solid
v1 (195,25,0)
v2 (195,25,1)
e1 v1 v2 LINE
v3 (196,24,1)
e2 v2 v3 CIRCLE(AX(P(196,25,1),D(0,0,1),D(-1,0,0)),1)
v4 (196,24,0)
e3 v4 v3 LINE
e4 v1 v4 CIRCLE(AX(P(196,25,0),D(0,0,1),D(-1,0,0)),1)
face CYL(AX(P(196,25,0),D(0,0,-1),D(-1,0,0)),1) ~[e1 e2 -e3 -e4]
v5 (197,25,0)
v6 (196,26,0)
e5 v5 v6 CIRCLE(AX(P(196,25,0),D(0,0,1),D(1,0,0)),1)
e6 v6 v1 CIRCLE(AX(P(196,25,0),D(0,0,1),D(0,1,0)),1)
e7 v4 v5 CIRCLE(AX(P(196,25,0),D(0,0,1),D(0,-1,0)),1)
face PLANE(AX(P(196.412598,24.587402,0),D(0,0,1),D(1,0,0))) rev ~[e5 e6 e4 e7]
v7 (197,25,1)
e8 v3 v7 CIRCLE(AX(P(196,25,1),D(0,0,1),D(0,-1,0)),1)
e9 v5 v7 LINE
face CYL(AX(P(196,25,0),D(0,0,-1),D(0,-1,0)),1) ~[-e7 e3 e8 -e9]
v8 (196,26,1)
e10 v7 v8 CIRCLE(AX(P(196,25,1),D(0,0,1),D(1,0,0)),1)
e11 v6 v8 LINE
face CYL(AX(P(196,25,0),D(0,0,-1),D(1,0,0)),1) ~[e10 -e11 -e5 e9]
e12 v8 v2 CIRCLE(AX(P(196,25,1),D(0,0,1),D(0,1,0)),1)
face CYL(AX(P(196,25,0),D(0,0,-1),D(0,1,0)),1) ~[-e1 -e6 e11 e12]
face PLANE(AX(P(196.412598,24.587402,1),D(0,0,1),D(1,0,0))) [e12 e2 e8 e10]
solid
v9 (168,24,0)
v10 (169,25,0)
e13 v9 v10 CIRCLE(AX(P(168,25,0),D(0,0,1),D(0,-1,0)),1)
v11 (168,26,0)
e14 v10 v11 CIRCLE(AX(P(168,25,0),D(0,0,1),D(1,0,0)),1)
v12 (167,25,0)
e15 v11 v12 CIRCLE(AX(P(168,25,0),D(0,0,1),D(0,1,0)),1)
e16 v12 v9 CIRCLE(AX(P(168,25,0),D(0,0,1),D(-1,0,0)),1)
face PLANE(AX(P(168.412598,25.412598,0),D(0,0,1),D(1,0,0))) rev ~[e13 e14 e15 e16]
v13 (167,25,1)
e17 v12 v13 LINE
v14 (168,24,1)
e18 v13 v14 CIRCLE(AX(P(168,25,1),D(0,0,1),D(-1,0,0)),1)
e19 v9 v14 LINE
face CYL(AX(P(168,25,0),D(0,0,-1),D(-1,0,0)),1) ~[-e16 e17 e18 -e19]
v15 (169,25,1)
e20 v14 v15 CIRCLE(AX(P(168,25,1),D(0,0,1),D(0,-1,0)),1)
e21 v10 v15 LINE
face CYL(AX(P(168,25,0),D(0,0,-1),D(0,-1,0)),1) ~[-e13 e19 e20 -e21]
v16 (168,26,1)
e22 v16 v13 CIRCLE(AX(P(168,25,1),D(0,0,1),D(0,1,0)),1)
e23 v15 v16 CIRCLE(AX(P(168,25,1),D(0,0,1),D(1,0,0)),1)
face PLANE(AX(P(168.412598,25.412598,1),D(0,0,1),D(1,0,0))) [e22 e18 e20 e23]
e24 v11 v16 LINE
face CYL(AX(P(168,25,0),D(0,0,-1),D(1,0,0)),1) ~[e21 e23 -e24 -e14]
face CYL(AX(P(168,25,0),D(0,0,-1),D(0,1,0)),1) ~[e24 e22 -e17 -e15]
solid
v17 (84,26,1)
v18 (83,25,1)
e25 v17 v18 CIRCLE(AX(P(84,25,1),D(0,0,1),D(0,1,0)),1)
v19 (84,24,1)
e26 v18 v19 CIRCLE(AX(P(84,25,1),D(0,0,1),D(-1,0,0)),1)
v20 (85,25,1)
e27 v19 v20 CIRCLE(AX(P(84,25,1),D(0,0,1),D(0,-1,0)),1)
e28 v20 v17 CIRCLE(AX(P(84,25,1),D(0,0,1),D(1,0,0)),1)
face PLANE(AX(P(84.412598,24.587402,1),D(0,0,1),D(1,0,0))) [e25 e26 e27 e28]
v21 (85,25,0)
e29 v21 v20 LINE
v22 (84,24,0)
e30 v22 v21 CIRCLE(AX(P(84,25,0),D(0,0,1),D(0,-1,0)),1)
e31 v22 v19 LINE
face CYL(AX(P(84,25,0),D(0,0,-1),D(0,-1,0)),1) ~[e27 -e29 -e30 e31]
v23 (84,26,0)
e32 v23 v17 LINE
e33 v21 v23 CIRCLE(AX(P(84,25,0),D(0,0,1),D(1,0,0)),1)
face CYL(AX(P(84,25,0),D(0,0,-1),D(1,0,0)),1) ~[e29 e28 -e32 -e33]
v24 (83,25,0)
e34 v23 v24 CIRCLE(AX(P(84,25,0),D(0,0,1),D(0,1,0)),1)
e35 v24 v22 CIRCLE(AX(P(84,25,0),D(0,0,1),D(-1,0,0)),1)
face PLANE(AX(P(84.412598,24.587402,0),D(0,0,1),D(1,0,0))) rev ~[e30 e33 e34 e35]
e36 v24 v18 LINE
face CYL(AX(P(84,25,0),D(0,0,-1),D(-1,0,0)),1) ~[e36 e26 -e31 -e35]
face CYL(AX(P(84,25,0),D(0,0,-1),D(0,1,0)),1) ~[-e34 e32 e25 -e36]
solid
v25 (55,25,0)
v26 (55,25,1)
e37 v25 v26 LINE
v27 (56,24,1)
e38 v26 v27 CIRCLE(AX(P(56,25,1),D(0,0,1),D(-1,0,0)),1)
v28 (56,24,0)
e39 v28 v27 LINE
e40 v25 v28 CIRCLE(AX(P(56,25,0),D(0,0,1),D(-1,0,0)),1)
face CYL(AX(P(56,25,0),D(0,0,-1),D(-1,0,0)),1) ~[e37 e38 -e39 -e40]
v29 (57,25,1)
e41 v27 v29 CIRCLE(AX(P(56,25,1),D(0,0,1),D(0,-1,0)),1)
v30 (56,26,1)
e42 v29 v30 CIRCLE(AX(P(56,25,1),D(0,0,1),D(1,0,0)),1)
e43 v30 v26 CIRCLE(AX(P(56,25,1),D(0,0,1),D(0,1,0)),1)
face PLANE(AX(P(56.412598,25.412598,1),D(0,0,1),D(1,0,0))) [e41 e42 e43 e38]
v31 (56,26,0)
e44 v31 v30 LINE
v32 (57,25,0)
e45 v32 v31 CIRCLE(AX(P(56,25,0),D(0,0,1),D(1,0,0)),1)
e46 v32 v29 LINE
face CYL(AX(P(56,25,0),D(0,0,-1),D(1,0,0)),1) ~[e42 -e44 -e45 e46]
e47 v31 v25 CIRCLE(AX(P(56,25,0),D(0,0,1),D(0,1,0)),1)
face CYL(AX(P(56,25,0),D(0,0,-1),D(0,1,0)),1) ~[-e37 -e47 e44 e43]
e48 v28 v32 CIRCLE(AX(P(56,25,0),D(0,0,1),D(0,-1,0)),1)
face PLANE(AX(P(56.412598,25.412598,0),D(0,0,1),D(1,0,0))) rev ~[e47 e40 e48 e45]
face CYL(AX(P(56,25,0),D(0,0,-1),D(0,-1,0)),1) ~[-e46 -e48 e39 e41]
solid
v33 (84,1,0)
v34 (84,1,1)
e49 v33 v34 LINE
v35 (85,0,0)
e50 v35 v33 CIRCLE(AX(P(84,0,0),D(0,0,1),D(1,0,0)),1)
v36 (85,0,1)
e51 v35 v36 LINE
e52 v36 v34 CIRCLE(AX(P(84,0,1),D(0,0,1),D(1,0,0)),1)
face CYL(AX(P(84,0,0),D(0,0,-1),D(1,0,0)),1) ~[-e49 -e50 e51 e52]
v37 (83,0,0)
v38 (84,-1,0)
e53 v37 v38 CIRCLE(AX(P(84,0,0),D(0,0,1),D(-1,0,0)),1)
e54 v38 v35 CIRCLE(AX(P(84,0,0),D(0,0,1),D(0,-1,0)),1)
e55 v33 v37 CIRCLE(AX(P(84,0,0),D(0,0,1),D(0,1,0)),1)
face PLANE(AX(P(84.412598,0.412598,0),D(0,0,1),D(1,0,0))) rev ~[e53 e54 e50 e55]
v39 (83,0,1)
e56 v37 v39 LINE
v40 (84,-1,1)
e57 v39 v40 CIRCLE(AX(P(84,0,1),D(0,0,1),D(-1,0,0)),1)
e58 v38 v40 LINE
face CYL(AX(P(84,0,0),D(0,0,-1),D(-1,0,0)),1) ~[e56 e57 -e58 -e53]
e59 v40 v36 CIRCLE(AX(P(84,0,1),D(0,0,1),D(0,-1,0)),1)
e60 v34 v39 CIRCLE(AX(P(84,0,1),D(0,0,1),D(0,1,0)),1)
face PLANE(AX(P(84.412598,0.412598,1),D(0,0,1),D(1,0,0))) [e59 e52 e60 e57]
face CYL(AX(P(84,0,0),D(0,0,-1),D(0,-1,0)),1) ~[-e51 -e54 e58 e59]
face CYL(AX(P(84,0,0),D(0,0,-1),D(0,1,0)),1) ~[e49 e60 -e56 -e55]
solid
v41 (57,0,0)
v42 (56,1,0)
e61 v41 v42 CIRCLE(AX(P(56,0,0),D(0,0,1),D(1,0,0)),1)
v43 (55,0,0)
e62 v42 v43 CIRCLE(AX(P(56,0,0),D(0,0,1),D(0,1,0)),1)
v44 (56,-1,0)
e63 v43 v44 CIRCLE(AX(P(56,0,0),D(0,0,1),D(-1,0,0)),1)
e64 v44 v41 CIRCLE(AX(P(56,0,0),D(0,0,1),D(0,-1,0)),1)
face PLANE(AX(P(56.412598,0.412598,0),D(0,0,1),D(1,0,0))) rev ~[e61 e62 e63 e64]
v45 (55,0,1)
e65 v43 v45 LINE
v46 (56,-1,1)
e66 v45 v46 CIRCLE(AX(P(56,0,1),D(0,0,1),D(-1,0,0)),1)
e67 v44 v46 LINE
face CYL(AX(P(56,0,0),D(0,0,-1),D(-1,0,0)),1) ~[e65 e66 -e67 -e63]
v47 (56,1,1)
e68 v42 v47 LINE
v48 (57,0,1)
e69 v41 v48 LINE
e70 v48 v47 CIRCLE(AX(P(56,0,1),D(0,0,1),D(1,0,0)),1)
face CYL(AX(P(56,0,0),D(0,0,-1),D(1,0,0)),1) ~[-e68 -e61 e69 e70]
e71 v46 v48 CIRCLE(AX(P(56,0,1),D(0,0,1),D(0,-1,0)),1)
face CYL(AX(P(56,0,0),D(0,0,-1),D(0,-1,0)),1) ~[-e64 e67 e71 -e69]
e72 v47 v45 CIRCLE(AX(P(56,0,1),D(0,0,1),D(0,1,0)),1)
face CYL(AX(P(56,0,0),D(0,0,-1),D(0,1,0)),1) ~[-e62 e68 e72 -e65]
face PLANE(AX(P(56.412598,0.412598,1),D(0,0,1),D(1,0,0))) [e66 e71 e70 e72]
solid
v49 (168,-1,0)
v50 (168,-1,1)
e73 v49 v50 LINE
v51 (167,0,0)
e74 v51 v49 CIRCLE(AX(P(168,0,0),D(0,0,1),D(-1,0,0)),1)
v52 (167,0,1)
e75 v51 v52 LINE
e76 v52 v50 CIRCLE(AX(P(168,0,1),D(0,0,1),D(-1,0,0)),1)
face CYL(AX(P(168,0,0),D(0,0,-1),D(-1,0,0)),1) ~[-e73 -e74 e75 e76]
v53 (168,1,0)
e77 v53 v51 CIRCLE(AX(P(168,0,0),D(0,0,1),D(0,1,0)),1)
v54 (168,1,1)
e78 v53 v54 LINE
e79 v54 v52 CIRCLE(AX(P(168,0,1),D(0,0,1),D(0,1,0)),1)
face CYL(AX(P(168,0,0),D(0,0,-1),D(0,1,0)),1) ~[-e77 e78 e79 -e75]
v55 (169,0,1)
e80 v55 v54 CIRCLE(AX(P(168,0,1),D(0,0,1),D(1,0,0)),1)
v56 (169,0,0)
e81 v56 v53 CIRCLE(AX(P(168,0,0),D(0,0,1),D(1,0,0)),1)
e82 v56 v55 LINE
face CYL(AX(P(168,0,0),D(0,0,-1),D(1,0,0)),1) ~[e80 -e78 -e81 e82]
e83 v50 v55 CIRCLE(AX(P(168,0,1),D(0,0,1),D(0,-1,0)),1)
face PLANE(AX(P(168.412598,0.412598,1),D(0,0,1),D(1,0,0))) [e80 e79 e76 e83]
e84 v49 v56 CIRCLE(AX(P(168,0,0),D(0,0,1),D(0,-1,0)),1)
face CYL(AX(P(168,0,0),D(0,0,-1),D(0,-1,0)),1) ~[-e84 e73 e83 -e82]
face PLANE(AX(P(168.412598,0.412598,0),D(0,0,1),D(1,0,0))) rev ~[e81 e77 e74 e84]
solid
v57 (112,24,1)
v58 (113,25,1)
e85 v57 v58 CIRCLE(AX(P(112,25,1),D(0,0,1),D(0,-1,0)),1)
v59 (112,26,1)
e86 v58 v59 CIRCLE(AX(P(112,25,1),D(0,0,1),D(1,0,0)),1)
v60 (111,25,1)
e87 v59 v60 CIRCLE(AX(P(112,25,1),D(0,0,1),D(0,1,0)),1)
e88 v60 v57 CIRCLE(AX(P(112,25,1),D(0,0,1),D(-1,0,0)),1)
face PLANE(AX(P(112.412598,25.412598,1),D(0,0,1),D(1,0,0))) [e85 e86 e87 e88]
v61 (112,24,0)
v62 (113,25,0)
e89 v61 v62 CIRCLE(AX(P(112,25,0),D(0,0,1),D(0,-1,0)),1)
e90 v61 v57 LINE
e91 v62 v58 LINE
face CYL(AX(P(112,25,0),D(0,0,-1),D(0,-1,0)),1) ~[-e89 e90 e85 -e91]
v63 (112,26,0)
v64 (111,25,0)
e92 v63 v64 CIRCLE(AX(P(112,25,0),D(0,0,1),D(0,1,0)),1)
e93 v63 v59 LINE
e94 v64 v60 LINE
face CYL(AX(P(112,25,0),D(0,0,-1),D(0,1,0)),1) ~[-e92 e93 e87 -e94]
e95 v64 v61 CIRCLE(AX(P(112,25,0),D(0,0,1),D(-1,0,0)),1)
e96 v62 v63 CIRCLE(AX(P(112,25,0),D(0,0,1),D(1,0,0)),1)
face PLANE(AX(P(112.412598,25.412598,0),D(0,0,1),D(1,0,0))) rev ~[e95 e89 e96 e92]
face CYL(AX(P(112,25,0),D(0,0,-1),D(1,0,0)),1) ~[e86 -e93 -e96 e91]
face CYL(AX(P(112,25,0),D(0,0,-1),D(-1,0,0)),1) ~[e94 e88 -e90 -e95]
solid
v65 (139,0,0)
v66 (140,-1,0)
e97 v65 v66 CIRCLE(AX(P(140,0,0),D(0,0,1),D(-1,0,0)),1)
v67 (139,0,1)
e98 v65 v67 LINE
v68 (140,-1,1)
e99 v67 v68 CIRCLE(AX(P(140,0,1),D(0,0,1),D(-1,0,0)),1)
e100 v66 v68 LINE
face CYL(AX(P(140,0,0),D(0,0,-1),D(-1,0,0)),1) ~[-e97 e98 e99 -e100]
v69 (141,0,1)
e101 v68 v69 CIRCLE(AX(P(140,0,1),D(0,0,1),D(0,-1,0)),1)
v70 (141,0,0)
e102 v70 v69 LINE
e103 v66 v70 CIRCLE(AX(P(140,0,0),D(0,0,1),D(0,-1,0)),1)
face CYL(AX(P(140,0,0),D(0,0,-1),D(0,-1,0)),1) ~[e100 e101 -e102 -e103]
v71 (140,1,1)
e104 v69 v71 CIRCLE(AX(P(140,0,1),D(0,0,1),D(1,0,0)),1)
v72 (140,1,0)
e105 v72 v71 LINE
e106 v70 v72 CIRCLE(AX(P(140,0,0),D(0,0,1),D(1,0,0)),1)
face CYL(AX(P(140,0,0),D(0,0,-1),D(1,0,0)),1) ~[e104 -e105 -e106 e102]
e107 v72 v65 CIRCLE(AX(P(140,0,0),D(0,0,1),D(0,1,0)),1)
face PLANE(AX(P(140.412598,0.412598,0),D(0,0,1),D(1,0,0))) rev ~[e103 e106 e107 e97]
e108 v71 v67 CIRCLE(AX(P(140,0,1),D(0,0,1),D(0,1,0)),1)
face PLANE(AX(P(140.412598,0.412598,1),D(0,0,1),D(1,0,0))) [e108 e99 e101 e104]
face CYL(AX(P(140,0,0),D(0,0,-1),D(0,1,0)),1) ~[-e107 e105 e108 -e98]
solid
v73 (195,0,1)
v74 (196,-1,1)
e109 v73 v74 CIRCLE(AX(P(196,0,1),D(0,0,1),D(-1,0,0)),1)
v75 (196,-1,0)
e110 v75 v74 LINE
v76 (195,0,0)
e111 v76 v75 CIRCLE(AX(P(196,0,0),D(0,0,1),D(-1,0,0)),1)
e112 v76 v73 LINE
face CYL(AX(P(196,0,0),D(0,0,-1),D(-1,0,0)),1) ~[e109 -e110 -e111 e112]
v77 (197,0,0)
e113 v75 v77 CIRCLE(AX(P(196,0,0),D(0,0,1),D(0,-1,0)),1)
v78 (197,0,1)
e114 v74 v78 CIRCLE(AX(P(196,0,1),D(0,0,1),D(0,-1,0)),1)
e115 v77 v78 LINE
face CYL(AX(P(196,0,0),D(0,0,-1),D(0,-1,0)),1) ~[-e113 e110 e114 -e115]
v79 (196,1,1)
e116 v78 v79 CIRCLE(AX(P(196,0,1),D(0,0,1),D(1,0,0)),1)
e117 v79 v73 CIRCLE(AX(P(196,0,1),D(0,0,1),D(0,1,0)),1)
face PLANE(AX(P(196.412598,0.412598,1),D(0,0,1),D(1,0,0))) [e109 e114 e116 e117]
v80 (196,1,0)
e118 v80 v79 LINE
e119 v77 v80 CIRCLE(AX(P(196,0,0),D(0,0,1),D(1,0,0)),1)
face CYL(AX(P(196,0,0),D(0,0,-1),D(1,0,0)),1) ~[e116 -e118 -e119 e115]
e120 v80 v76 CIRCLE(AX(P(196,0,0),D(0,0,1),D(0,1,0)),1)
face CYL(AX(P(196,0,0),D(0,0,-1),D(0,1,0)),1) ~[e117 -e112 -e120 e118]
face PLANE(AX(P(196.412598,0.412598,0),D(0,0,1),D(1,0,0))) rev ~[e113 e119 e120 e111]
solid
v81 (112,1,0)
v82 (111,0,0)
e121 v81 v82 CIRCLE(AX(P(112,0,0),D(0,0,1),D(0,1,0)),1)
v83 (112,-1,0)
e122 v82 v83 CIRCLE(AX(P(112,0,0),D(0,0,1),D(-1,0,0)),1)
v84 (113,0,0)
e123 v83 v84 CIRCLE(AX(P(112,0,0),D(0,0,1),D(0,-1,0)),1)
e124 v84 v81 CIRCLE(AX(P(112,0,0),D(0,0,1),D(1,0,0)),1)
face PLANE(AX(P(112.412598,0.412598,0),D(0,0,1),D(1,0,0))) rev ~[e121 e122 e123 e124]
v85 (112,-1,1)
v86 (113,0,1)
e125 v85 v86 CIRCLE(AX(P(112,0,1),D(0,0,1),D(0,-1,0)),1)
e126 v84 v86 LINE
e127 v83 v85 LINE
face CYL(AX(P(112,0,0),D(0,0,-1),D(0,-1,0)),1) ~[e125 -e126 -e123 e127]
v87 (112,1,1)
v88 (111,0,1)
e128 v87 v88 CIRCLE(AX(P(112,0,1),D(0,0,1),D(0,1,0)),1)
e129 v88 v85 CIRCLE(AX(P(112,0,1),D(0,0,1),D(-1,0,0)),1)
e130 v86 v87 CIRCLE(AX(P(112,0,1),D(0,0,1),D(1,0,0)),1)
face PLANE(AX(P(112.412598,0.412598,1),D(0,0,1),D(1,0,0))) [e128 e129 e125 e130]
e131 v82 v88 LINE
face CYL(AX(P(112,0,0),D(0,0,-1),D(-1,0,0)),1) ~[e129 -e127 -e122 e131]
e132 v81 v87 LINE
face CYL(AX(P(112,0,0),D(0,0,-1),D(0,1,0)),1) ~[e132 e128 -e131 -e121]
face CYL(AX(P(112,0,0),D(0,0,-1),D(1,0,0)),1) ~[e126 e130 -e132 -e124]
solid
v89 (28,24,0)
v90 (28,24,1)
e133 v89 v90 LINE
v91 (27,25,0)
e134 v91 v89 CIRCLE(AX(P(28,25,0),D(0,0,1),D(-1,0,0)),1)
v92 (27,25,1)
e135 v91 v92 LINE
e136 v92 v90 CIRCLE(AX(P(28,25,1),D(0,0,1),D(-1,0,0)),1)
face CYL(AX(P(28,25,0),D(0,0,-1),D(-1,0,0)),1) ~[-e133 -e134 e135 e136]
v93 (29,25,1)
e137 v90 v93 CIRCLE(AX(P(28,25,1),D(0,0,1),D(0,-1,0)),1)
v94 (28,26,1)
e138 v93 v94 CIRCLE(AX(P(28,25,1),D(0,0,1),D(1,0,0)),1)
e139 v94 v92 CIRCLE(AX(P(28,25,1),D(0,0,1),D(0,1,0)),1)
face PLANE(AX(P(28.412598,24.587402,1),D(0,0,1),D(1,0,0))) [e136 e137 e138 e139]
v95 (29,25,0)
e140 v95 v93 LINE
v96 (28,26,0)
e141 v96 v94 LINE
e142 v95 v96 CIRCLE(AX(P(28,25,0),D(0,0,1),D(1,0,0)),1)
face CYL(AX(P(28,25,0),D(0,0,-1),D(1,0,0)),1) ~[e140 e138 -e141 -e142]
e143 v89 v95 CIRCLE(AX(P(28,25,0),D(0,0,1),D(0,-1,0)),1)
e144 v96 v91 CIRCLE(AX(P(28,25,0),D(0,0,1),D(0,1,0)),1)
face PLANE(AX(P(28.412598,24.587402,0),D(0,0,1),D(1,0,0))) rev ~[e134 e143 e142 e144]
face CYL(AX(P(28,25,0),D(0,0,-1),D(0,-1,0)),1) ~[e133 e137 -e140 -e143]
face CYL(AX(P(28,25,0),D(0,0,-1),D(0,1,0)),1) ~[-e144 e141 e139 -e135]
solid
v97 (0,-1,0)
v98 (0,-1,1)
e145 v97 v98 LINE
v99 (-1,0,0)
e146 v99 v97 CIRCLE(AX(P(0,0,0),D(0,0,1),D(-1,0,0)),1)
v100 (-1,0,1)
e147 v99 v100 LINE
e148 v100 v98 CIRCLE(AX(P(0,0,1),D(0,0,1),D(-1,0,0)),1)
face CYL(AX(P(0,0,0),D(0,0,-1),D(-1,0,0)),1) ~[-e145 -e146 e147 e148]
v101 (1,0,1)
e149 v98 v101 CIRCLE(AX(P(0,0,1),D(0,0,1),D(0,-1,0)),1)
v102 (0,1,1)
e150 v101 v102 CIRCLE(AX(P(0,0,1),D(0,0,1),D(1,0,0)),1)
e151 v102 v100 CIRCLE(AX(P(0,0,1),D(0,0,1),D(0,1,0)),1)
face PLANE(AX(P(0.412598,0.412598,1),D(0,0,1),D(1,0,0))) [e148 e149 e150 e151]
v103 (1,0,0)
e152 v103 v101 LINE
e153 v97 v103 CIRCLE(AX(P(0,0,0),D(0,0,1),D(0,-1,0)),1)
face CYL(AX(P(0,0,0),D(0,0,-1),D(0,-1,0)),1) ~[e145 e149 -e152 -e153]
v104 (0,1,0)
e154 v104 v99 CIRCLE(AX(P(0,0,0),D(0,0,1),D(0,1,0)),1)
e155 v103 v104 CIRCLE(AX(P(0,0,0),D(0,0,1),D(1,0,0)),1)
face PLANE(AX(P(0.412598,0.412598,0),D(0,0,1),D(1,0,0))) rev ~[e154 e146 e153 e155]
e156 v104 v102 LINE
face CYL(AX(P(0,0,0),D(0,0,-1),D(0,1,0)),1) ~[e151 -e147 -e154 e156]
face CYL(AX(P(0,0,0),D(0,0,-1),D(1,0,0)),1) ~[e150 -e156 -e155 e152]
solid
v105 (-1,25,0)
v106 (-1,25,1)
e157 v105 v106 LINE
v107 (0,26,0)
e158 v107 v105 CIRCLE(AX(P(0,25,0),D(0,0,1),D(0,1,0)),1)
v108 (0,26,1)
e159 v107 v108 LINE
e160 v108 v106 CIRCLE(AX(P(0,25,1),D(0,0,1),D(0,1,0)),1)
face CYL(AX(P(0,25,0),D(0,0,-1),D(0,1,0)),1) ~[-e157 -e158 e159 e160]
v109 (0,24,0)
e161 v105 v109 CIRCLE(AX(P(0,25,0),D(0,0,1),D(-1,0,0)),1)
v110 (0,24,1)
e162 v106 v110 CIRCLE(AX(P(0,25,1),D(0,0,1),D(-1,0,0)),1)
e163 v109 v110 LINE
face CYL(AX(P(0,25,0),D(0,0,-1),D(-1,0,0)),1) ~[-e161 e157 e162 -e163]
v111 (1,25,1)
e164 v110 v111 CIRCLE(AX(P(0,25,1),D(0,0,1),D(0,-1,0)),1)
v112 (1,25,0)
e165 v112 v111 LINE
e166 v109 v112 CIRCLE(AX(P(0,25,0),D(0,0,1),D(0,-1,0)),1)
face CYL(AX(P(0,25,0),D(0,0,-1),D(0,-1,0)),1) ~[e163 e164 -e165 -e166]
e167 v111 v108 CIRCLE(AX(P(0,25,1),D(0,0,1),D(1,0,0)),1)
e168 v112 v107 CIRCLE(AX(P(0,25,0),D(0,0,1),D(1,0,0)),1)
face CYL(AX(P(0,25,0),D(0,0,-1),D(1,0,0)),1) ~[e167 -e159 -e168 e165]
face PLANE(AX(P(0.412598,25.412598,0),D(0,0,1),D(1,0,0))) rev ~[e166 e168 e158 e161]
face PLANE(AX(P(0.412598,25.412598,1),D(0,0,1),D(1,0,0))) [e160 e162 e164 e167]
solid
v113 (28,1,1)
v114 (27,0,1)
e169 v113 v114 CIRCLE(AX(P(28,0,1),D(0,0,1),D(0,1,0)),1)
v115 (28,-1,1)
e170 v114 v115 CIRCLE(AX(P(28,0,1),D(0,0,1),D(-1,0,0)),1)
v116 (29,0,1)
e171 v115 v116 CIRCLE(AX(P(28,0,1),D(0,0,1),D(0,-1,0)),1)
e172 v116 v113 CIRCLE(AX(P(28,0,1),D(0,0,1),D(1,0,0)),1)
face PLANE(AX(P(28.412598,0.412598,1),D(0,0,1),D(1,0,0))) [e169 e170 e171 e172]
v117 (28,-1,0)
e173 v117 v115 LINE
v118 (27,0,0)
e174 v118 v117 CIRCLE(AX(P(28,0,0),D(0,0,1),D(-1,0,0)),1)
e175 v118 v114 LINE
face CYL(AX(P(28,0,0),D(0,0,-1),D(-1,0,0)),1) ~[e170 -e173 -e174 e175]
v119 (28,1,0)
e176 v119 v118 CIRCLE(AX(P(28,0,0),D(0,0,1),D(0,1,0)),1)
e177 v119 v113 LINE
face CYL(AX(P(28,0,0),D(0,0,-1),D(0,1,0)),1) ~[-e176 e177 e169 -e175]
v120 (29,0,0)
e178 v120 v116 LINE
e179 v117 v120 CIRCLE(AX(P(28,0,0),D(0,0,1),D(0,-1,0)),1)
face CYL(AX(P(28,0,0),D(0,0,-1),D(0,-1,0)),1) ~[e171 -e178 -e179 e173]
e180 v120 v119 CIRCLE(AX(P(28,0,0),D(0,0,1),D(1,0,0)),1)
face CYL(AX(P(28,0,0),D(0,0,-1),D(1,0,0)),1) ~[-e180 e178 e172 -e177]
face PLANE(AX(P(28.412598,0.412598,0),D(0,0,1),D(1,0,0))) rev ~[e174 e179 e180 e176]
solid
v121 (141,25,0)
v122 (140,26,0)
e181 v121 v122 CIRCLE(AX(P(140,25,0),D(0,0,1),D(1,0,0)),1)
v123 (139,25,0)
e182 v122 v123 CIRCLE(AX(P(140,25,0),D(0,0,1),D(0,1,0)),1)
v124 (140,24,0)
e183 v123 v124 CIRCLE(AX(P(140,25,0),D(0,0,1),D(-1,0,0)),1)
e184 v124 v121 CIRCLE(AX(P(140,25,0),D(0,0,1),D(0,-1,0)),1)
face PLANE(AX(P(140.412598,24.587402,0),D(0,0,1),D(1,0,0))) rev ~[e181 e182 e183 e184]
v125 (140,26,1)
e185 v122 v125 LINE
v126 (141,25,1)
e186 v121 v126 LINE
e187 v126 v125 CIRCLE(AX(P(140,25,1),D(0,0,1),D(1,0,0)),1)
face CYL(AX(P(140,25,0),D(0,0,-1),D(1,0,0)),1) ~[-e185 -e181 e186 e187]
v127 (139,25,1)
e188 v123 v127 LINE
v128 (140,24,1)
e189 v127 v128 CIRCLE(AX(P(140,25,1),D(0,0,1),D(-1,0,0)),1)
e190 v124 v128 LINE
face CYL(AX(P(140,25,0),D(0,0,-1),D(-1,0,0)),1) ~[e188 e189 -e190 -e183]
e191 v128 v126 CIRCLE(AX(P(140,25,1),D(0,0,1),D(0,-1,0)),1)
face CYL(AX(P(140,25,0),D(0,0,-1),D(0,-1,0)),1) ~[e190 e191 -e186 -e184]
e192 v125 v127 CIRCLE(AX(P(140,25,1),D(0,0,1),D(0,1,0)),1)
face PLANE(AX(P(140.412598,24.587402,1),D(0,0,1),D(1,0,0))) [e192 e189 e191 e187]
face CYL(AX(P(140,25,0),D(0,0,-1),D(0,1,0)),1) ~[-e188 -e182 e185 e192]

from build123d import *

# Parameters (mm, degrees)
F1_DEPTH = 1


with BuildPart() as f1:
    # F0 (on Top) → F1 (new body)
    with BuildSketch(Plane.XY):
        with BuildLine():
            ThreePointArc((196, 24), (196.7071067812, 24.2928932188), (197, 25))
            Line((197, 25), (196, 25))
            Line((196, 25), (196, 24))
        make_face()
        with BuildLine():
            Line((196, 25), (196, 26))
            ThreePointArc((196, 26), (195.2928932188, 25.7071067812), (195, 25))
            Line((195, 25), (196, 25))
        make_face()
        with BuildLine():
            ThreePointArc((195, 25), (195.2928932188, 24.2928932188), (196, 24))
            Line((196, 24), (196, 25))
            Line((196, 25), (195, 25))
        make_face()
        with BuildLine():
            Line((196, 25), (197, 25))
            ThreePointArc((197, 25), (196.7071067812, 25.7071067812), (196, 26))
            Line((196, 26), (196, 25))
        make_face()
    extrude(amount=F1_DEPTH)


with BuildPart() as f1b:
    # F0 (on Top) → F1, piece 2 (new body)
    with BuildSketch(Plane.XY):
        with BuildLine():
            Line((168, 25), (169, 25))
            ThreePointArc((169, 25), (168.7071067812, 25.7071067812), (168, 26))
            Line((168, 26), (168, 25))
        make_face()
        with BuildLine():
            Line((168, 25), (168, 26))
            ThreePointArc((168, 26), (167.2928932188, 25.7071067812), (167, 25))
            Line((167, 25), (168, 25))
        make_face()
        with BuildLine():
            ThreePointArc((167, 25), (167.2928932188, 24.2928932188), (168, 24))
            Line((168, 24), (168, 25))
            Line((168, 25), (167, 25))
        make_face()
        with BuildLine():
            ThreePointArc((168, 24), (168.7071067812, 24.2928932188), (169, 25))
            Line((169, 25), (168, 25))
            Line((168, 25), (168, 24))
        make_face()
    extrude(amount=F1_DEPTH)


with BuildPart() as f1c:
    # F0 (on Top) → F1, piece 3 (new body)
    with BuildSketch(Plane.XY):
        with BuildLine():
            Line((196, 0), (197, 0))
            ThreePointArc((197, 0), (196.7071067812, 0.7071067812), (196, 1))
            Line((196, 1), (196, 0))
        make_face()
        with BuildLine():
            Line((196, 0), (196, 1))
            ThreePointArc((196, 1), (195.2928932188, 0.7071067812), (195, 0))
            Line((195, 0), (196, 0))
        make_face()
        with BuildLine():
            ThreePointArc((195, 0), (195.2928932188, -0.7071067812), (196, -1))
            Line((196, -1), (196, 0))
            Line((196, 0), (195, 0))
        make_face()
        with BuildLine():
            ThreePointArc((196, -1), (196.7071067812, -0.7071067812), (197, 0))
            Line((197, 0), (196, 0))
            Line((196, 0), (196, -1))
        make_face()
    extrude(amount=F1_DEPTH)


with BuildPart() as f1d:
    # F0 (on Top) → F1, piece 4 (new body)
    with BuildSketch(Plane.XY):
        with BuildLine():
            Line((0, 25), (1, 25))
            ThreePointArc((1, 25), (0.7071067812, 25.7071067812), (0, 26))
            Line((0, 26), (0, 25))
        make_face()
        with BuildLine():
            Line((0, 25), (0, 26))
            ThreePointArc((0, 26), (-0.7071067812, 25.7071067812), (-1, 25))
            Line((-1, 25), (0, 25))
        make_face()
        with BuildLine():
            ThreePointArc((-1, 25), (-0.7071067812, 24.2928932188), (0, 24))
            Line((0, 24), (0, 25))
            Line((0, 25), (-1, 25))
        make_face()
        with BuildLine():
            ThreePointArc((0, 24), (0.7071067812, 24.2928932188), (1, 25))
            Line((1, 25), (0, 25))
            Line((0, 25), (0, 24))
        make_face()
    extrude(amount=F1_DEPTH)


with BuildPart() as f1e:
    # F0 (on Top) → F1, piece 5 (new body)
    with BuildSketch(Plane.XY):
        with BuildLine():
            Line((28, 0), (29, 0))
            ThreePointArc((29, 0), (28.7071067812, 0.7071067812), (28, 1))
            Line((28, 1), (28, 0))
        make_face()
        with BuildLine():
            Line((28, 0), (28, 1))
            ThreePointArc((28, 1), (27.2928932188, 0.7071067812), (27, 0))
            Line((27, 0), (28, 0))
        make_face()
        with BuildLine():
            ThreePointArc((27, 0), (27.2928932188, -0.7071067812), (28, -1))
            Line((28, -1), (28, 0))
            Line((28, 0), (27, 0))
        make_face()
        with BuildLine():
            ThreePointArc((28, -1), (28.7071067812, -0.7071067812), (29, 0))
            Line((29, 0), (28, 0))
            Line((28, 0), (28, -1))
        make_face()
    extrude(amount=F1_DEPTH)


with BuildPart() as f1f:
    # F0 (on Top) → F1, piece 6 (new body)
    with BuildSketch(Plane.XY):
        with BuildLine():
            ThreePointArc((28, 24), (28.7071067812, 24.2928932188), (29, 25))
            Line((29, 25), (28, 25))
            Line((28, 25), (28, 24))
        make_face()
        with BuildLine():
            Line((28, 25), (28, 26))
            ThreePointArc((28, 26), (27.2928932188, 25.7071067812), (27, 25))
            Line((27, 25), (28, 25))
        make_face()
        with BuildLine():
            ThreePointArc((27, 25), (27.2928932188, 24.2928932188), (28, 24))
            Line((28, 24), (28, 25))
            Line((28, 25), (27, 25))
        make_face()
        with BuildLine():
            Line((28, 25), (29, 25))
            ThreePointArc((29, 25), (28.7071067812, 25.7071067812), (28, 26))
            Line((28, 26), (28, 25))
        make_face()
    extrude(amount=F1_DEPTH)


with BuildPart() as f1g:
    # F0 (on Top) → F1, piece 7 (new body)
    with BuildSketch(Plane.XY):
        with BuildLine():
            Line((56, 0), (57, 0))
            ThreePointArc((57, 0), (56.7071067812, 0.7071067812), (56, 1))
            Line((56, 1), (56, 0))
        make_face()
        with BuildLine():
            Line((56, 0), (56, 1))
            ThreePointArc((56, 1), (55.2928932188, 0.7071067812), (55, 0))
            Line((55, 0), (56, 0))
        make_face()
        with BuildLine():
            ThreePointArc((55, 0), (55.2928932188, -0.7071067812), (56, -1))
            Line((56, -1), (56, 0))
            Line((56, 0), (55, 0))
        make_face()
        with BuildLine():
            ThreePointArc((56, -1), (56.7071067812, -0.7071067812), (57, 0))
            Line((57, 0), (56, 0))
            Line((56, 0), (56, -1))
        make_face()
    extrude(amount=F1_DEPTH)


with BuildPart() as f1h:
    # F0 (on Top) → F1, piece 8 (new body)
    with BuildSketch(Plane.XY):
        with BuildLine():
            Line((56, 25), (57, 25))
            ThreePointArc((57, 25), (56.7071067812, 25.7071067812), (56, 26))
            Line((56, 26), (56, 25))
        make_face()
        with BuildLine():
            Line((56, 25), (56, 26))
            ThreePointArc((56, 26), (55.2928932188, 25.7071067812), (55, 25))
            Line((55, 25), (56, 25))
        make_face()
        with BuildLine():
            ThreePointArc((55, 25), (55.2928932188, 24.2928932188), (56, 24))
            Line((56, 24), (56, 25))
            Line((56, 25), (55, 25))
        make_face()
        with BuildLine():
            ThreePointArc((56, 24), (56.7071067812, 24.2928932188), (57, 25))
            Line((57, 25), (56, 25))
            Line((56, 25), (56, 24))
        make_face()
    extrude(amount=F1_DEPTH)


with BuildPart() as f1i:
    # F0 (on Top) → F1, piece 9 (new body)
    with BuildSketch(Plane.XY):
        with BuildLine():
            Line((84, 0), (85, 0))
            ThreePointArc((85, 0), (84.7071067812, 0.7071067812), (84, 1))
            Line((84, 1), (84, 0))
        make_face()
        with BuildLine():
            Line((84, 0), (84, 1))
            ThreePointArc((84, 1), (83.2928932188, 0.7071067812), (83, 0))
            Line((83, 0), (84, 0))
        make_face()
        with BuildLine():
            ThreePointArc((83, 0), (83.2928932188, -0.7071067812), (84, -1))
            Line((84, -1), (84, 0))
            Line((84, 0), (83, 0))
        make_face()
        with BuildLine():
            ThreePointArc((84, -1), (84.7071067812, -0.7071067812), (85, 0))
            Line((85, 0), (84, 0))
            Line((84, 0), (84, -1))
        make_face()
    extrude(amount=F1_DEPTH)


with BuildPart() as f1j:
    # F0 (on Top) → F1, piece 10 (new body)
    with BuildSketch(Plane.XY):
        with BuildLine():
            ThreePointArc((84, 24), (84.7071067812, 24.2928932188), (85, 25))
            Line((85, 25), (84, 25))
            Line((84, 25), (84, 24))
        make_face()
        with BuildLine():
            ThreePointArc((83, 25), (83.2928932188, 24.2928932188), (84, 24))
            Line((84, 24), (84, 25))
            Line((84, 25), (83, 25))
        make_face()
        with BuildLine():
            Line((84, 25), (85, 25))
            ThreePointArc((85, 25), (84.7071067812, 25.7071067812), (84, 26))
            Line((84, 26), (84, 25))
        make_face()
        with BuildLine():
            Line((84, 25), (84, 26))
            ThreePointArc((84, 26), (83.2928932188, 25.7071067812), (83, 25))
            Line((83, 25), (84, 25))
        make_face()
    extrude(amount=F1_DEPTH)


with BuildPart() as f1k:
    # F0 (on Top) → F1, piece 11 (new body)
    with BuildSketch(Plane.XY):
        with BuildLine():
            Line((112, 0), (113, 0))
            ThreePointArc((113, 0), (112.7071067812, 0.7071067812), (112, 1))
            Line((112, 1), (112, 0))
        make_face()
        with BuildLine():
            Line((112, 0), (112, 1))
            ThreePointArc((112, 1), (111.2928932188, 0.7071067812), (111, 0))
            Line((111, 0), (112, 0))
        make_face()
        with BuildLine():
            ThreePointArc((111, 0), (111.2928932188, -0.7071067812), (112, -1))
            Line((112, -1), (112, 0))
            Line((112, 0), (111, 0))
        make_face()
        with BuildLine():
            ThreePointArc((112, -1), (112.7071067812, -0.7071067812), (113, 0))
            Line((113, 0), (112, 0))
            Line((112, 0), (112, -1))
        make_face()
    extrude(amount=F1_DEPTH)


with BuildPart() as f1l:
    # F0 (on Top) → F1, piece 12 (new body)
    with BuildSketch(Plane.XY):
        with BuildLine():
            Line((112, 25), (113, 25))
            ThreePointArc((113, 25), (112.7071067812, 25.7071067812), (112, 26))
            Line((112, 26), (112, 25))
        make_face()
        with BuildLine():
            Line((112, 25), (112, 26))
            ThreePointArc((112, 26), (111.2928932188, 25.7071067812), (111, 25))
            Line((111, 25), (112, 25))
        make_face()
        with BuildLine():
            ThreePointArc((111, 25), (111.2928932188, 24.2928932188), (112, 24))
            Line((112, 24), (112, 25))
            Line((112, 25), (111, 25))
        make_face()
        with BuildLine():
            ThreePointArc((112, 24), (112.7071067812, 24.2928932188), (113, 25))
            Line((113, 25), (112, 25))
            Line((112, 25), (112, 24))
        make_face()
    extrude(amount=F1_DEPTH)


with BuildPart() as f1m:
    # F0 (on Top) → F1, piece 13 (new body)
    with BuildSketch(Plane.XY):
        with BuildLine():
            Line((140, 0), (141, 0))
            ThreePointArc((141, 0), (140.7071067812, 0.7071067812), (140, 1))
            Line((140, 1), (140, 0))
        make_face()
        with BuildLine():
            Line((140, 0), (140, 1))
            ThreePointArc((140, 1), (139.2928932188, 0.7071067812), (139, 0))
            Line((139, 0), (140, 0))
        make_face()
        with BuildLine():
            ThreePointArc((139, 0), (139.2928932188, -0.7071067812), (140, -1))
            Line((140, -1), (140, 0))
            Line((140, 0), (139, 0))
        make_face()
        with BuildLine():
            ThreePointArc((140, -1), (140.7071067812, -0.7071067812), (141, 0))
            Line((141, 0), (140, 0))
            Line((140, 0), (140, -1))
        make_face()
    extrude(amount=F1_DEPTH)


with BuildPart() as f1n:
    # F0 (on Top) → F1, piece 14 (new body)
    with BuildSketch(Plane.XY):
        with BuildLine():
            ThreePointArc((140, 24), (140.7071067812, 24.2928932188), (141, 25))
            Line((141, 25), (140, 25))
            Line((140, 25), (140, 24))
        make_face()
        with BuildLine():
            Line((140, 25), (140, 26))
            ThreePointArc((140, 26), (139.2928932188, 25.7071067812), (139, 25))
            Line((139, 25), (140, 25))
        make_face()
        with BuildLine():
            ThreePointArc((139, 25), (139.2928932188, 24.2928932188), (140, 24))
            Line((140, 24), (140, 25))
            Line((140, 25), (139, 25))
        make_face()
        with BuildLine():
            Line((140, 25), (141, 25))
            ThreePointArc((141, 25), (140.7071067812, 25.7071067812), (140, 26))
            Line((140, 26), (140, 25))
        make_face()
    extrude(amount=F1_DEPTH)


with BuildPart() as f1o:
    # F0 (on Top) → F1, piece 15 (new body)
    with BuildSketch(Plane.XY):
        with BuildLine():
            Line((168, 0), (169, 0))
            ThreePointArc((169, 0), (168.7071067812, 0.7071067812), (168, 1))
            Line((168, 1), (168, 0))
        make_face()
        with BuildLine():
            Line((168, 0), (168, 1))
            ThreePointArc((168, 1), (167.2928932188, 0.7071067812), (167, 0))
            Line((167, 0), (168, 0))
        make_face()
        with BuildLine():
            ThreePointArc((167, 0), (167.2928932188, -0.7071067812), (168, -1))
            Line((168, -1), (168, 0))
            Line((168, 0), (167, 0))
        make_face()
        with BuildLine():
            ThreePointArc((168, -1), (168.7071067812, -0.7071067812), (169, 0))
            Line((169, 0), (168, 0))
            Line((168, 0), (168, -1))
        make_face()
    extrude(amount=F1_DEPTH)


with BuildPart() as f1p:
    # F0 (on Top) → F1, piece 16 (new body)
    with BuildSketch(Plane.XY):
        with BuildLine():
            Line((0, 0), (1, 0))
            ThreePointArc((1, 0), (0.7071067812, 0.7071067812), (0, 1))
            Line((0, 1), (0, 0))
        make_face()
        with BuildLine():
            Line((0, 0), (0, 1))
            ThreePointArc((0, 1), (-0.7071067812, 0.7071067812), (-1, 0))
            Line((-1, 0), (0, 0))
        make_face()
        with BuildLine():
            ThreePointArc((-1, 0), (-0.7071067812, -0.7071067812), (0, -1))
            Line((0, -1), (0, 0))
            Line((0, 0), (-1, 0))
        make_face()
        with BuildLine():
            ThreePointArc((0, -1), (0.7071067812, -0.7071067812), (1, 0))
            Line((1, 0), (0, 0))
            Line((0, 0), (0, -1))
        make_face()
    extrude(amount=F1_DEPTH)


solid = Compound([f1.part, f1b.part, f1c.part, f1d.part, f1e.part, f1f.part, f1g.part, f1h.part, f1i.part, f1j.part, f1k.part, f1l.part, f1m.part, f1n.part, f1o.part, f1p.part])
